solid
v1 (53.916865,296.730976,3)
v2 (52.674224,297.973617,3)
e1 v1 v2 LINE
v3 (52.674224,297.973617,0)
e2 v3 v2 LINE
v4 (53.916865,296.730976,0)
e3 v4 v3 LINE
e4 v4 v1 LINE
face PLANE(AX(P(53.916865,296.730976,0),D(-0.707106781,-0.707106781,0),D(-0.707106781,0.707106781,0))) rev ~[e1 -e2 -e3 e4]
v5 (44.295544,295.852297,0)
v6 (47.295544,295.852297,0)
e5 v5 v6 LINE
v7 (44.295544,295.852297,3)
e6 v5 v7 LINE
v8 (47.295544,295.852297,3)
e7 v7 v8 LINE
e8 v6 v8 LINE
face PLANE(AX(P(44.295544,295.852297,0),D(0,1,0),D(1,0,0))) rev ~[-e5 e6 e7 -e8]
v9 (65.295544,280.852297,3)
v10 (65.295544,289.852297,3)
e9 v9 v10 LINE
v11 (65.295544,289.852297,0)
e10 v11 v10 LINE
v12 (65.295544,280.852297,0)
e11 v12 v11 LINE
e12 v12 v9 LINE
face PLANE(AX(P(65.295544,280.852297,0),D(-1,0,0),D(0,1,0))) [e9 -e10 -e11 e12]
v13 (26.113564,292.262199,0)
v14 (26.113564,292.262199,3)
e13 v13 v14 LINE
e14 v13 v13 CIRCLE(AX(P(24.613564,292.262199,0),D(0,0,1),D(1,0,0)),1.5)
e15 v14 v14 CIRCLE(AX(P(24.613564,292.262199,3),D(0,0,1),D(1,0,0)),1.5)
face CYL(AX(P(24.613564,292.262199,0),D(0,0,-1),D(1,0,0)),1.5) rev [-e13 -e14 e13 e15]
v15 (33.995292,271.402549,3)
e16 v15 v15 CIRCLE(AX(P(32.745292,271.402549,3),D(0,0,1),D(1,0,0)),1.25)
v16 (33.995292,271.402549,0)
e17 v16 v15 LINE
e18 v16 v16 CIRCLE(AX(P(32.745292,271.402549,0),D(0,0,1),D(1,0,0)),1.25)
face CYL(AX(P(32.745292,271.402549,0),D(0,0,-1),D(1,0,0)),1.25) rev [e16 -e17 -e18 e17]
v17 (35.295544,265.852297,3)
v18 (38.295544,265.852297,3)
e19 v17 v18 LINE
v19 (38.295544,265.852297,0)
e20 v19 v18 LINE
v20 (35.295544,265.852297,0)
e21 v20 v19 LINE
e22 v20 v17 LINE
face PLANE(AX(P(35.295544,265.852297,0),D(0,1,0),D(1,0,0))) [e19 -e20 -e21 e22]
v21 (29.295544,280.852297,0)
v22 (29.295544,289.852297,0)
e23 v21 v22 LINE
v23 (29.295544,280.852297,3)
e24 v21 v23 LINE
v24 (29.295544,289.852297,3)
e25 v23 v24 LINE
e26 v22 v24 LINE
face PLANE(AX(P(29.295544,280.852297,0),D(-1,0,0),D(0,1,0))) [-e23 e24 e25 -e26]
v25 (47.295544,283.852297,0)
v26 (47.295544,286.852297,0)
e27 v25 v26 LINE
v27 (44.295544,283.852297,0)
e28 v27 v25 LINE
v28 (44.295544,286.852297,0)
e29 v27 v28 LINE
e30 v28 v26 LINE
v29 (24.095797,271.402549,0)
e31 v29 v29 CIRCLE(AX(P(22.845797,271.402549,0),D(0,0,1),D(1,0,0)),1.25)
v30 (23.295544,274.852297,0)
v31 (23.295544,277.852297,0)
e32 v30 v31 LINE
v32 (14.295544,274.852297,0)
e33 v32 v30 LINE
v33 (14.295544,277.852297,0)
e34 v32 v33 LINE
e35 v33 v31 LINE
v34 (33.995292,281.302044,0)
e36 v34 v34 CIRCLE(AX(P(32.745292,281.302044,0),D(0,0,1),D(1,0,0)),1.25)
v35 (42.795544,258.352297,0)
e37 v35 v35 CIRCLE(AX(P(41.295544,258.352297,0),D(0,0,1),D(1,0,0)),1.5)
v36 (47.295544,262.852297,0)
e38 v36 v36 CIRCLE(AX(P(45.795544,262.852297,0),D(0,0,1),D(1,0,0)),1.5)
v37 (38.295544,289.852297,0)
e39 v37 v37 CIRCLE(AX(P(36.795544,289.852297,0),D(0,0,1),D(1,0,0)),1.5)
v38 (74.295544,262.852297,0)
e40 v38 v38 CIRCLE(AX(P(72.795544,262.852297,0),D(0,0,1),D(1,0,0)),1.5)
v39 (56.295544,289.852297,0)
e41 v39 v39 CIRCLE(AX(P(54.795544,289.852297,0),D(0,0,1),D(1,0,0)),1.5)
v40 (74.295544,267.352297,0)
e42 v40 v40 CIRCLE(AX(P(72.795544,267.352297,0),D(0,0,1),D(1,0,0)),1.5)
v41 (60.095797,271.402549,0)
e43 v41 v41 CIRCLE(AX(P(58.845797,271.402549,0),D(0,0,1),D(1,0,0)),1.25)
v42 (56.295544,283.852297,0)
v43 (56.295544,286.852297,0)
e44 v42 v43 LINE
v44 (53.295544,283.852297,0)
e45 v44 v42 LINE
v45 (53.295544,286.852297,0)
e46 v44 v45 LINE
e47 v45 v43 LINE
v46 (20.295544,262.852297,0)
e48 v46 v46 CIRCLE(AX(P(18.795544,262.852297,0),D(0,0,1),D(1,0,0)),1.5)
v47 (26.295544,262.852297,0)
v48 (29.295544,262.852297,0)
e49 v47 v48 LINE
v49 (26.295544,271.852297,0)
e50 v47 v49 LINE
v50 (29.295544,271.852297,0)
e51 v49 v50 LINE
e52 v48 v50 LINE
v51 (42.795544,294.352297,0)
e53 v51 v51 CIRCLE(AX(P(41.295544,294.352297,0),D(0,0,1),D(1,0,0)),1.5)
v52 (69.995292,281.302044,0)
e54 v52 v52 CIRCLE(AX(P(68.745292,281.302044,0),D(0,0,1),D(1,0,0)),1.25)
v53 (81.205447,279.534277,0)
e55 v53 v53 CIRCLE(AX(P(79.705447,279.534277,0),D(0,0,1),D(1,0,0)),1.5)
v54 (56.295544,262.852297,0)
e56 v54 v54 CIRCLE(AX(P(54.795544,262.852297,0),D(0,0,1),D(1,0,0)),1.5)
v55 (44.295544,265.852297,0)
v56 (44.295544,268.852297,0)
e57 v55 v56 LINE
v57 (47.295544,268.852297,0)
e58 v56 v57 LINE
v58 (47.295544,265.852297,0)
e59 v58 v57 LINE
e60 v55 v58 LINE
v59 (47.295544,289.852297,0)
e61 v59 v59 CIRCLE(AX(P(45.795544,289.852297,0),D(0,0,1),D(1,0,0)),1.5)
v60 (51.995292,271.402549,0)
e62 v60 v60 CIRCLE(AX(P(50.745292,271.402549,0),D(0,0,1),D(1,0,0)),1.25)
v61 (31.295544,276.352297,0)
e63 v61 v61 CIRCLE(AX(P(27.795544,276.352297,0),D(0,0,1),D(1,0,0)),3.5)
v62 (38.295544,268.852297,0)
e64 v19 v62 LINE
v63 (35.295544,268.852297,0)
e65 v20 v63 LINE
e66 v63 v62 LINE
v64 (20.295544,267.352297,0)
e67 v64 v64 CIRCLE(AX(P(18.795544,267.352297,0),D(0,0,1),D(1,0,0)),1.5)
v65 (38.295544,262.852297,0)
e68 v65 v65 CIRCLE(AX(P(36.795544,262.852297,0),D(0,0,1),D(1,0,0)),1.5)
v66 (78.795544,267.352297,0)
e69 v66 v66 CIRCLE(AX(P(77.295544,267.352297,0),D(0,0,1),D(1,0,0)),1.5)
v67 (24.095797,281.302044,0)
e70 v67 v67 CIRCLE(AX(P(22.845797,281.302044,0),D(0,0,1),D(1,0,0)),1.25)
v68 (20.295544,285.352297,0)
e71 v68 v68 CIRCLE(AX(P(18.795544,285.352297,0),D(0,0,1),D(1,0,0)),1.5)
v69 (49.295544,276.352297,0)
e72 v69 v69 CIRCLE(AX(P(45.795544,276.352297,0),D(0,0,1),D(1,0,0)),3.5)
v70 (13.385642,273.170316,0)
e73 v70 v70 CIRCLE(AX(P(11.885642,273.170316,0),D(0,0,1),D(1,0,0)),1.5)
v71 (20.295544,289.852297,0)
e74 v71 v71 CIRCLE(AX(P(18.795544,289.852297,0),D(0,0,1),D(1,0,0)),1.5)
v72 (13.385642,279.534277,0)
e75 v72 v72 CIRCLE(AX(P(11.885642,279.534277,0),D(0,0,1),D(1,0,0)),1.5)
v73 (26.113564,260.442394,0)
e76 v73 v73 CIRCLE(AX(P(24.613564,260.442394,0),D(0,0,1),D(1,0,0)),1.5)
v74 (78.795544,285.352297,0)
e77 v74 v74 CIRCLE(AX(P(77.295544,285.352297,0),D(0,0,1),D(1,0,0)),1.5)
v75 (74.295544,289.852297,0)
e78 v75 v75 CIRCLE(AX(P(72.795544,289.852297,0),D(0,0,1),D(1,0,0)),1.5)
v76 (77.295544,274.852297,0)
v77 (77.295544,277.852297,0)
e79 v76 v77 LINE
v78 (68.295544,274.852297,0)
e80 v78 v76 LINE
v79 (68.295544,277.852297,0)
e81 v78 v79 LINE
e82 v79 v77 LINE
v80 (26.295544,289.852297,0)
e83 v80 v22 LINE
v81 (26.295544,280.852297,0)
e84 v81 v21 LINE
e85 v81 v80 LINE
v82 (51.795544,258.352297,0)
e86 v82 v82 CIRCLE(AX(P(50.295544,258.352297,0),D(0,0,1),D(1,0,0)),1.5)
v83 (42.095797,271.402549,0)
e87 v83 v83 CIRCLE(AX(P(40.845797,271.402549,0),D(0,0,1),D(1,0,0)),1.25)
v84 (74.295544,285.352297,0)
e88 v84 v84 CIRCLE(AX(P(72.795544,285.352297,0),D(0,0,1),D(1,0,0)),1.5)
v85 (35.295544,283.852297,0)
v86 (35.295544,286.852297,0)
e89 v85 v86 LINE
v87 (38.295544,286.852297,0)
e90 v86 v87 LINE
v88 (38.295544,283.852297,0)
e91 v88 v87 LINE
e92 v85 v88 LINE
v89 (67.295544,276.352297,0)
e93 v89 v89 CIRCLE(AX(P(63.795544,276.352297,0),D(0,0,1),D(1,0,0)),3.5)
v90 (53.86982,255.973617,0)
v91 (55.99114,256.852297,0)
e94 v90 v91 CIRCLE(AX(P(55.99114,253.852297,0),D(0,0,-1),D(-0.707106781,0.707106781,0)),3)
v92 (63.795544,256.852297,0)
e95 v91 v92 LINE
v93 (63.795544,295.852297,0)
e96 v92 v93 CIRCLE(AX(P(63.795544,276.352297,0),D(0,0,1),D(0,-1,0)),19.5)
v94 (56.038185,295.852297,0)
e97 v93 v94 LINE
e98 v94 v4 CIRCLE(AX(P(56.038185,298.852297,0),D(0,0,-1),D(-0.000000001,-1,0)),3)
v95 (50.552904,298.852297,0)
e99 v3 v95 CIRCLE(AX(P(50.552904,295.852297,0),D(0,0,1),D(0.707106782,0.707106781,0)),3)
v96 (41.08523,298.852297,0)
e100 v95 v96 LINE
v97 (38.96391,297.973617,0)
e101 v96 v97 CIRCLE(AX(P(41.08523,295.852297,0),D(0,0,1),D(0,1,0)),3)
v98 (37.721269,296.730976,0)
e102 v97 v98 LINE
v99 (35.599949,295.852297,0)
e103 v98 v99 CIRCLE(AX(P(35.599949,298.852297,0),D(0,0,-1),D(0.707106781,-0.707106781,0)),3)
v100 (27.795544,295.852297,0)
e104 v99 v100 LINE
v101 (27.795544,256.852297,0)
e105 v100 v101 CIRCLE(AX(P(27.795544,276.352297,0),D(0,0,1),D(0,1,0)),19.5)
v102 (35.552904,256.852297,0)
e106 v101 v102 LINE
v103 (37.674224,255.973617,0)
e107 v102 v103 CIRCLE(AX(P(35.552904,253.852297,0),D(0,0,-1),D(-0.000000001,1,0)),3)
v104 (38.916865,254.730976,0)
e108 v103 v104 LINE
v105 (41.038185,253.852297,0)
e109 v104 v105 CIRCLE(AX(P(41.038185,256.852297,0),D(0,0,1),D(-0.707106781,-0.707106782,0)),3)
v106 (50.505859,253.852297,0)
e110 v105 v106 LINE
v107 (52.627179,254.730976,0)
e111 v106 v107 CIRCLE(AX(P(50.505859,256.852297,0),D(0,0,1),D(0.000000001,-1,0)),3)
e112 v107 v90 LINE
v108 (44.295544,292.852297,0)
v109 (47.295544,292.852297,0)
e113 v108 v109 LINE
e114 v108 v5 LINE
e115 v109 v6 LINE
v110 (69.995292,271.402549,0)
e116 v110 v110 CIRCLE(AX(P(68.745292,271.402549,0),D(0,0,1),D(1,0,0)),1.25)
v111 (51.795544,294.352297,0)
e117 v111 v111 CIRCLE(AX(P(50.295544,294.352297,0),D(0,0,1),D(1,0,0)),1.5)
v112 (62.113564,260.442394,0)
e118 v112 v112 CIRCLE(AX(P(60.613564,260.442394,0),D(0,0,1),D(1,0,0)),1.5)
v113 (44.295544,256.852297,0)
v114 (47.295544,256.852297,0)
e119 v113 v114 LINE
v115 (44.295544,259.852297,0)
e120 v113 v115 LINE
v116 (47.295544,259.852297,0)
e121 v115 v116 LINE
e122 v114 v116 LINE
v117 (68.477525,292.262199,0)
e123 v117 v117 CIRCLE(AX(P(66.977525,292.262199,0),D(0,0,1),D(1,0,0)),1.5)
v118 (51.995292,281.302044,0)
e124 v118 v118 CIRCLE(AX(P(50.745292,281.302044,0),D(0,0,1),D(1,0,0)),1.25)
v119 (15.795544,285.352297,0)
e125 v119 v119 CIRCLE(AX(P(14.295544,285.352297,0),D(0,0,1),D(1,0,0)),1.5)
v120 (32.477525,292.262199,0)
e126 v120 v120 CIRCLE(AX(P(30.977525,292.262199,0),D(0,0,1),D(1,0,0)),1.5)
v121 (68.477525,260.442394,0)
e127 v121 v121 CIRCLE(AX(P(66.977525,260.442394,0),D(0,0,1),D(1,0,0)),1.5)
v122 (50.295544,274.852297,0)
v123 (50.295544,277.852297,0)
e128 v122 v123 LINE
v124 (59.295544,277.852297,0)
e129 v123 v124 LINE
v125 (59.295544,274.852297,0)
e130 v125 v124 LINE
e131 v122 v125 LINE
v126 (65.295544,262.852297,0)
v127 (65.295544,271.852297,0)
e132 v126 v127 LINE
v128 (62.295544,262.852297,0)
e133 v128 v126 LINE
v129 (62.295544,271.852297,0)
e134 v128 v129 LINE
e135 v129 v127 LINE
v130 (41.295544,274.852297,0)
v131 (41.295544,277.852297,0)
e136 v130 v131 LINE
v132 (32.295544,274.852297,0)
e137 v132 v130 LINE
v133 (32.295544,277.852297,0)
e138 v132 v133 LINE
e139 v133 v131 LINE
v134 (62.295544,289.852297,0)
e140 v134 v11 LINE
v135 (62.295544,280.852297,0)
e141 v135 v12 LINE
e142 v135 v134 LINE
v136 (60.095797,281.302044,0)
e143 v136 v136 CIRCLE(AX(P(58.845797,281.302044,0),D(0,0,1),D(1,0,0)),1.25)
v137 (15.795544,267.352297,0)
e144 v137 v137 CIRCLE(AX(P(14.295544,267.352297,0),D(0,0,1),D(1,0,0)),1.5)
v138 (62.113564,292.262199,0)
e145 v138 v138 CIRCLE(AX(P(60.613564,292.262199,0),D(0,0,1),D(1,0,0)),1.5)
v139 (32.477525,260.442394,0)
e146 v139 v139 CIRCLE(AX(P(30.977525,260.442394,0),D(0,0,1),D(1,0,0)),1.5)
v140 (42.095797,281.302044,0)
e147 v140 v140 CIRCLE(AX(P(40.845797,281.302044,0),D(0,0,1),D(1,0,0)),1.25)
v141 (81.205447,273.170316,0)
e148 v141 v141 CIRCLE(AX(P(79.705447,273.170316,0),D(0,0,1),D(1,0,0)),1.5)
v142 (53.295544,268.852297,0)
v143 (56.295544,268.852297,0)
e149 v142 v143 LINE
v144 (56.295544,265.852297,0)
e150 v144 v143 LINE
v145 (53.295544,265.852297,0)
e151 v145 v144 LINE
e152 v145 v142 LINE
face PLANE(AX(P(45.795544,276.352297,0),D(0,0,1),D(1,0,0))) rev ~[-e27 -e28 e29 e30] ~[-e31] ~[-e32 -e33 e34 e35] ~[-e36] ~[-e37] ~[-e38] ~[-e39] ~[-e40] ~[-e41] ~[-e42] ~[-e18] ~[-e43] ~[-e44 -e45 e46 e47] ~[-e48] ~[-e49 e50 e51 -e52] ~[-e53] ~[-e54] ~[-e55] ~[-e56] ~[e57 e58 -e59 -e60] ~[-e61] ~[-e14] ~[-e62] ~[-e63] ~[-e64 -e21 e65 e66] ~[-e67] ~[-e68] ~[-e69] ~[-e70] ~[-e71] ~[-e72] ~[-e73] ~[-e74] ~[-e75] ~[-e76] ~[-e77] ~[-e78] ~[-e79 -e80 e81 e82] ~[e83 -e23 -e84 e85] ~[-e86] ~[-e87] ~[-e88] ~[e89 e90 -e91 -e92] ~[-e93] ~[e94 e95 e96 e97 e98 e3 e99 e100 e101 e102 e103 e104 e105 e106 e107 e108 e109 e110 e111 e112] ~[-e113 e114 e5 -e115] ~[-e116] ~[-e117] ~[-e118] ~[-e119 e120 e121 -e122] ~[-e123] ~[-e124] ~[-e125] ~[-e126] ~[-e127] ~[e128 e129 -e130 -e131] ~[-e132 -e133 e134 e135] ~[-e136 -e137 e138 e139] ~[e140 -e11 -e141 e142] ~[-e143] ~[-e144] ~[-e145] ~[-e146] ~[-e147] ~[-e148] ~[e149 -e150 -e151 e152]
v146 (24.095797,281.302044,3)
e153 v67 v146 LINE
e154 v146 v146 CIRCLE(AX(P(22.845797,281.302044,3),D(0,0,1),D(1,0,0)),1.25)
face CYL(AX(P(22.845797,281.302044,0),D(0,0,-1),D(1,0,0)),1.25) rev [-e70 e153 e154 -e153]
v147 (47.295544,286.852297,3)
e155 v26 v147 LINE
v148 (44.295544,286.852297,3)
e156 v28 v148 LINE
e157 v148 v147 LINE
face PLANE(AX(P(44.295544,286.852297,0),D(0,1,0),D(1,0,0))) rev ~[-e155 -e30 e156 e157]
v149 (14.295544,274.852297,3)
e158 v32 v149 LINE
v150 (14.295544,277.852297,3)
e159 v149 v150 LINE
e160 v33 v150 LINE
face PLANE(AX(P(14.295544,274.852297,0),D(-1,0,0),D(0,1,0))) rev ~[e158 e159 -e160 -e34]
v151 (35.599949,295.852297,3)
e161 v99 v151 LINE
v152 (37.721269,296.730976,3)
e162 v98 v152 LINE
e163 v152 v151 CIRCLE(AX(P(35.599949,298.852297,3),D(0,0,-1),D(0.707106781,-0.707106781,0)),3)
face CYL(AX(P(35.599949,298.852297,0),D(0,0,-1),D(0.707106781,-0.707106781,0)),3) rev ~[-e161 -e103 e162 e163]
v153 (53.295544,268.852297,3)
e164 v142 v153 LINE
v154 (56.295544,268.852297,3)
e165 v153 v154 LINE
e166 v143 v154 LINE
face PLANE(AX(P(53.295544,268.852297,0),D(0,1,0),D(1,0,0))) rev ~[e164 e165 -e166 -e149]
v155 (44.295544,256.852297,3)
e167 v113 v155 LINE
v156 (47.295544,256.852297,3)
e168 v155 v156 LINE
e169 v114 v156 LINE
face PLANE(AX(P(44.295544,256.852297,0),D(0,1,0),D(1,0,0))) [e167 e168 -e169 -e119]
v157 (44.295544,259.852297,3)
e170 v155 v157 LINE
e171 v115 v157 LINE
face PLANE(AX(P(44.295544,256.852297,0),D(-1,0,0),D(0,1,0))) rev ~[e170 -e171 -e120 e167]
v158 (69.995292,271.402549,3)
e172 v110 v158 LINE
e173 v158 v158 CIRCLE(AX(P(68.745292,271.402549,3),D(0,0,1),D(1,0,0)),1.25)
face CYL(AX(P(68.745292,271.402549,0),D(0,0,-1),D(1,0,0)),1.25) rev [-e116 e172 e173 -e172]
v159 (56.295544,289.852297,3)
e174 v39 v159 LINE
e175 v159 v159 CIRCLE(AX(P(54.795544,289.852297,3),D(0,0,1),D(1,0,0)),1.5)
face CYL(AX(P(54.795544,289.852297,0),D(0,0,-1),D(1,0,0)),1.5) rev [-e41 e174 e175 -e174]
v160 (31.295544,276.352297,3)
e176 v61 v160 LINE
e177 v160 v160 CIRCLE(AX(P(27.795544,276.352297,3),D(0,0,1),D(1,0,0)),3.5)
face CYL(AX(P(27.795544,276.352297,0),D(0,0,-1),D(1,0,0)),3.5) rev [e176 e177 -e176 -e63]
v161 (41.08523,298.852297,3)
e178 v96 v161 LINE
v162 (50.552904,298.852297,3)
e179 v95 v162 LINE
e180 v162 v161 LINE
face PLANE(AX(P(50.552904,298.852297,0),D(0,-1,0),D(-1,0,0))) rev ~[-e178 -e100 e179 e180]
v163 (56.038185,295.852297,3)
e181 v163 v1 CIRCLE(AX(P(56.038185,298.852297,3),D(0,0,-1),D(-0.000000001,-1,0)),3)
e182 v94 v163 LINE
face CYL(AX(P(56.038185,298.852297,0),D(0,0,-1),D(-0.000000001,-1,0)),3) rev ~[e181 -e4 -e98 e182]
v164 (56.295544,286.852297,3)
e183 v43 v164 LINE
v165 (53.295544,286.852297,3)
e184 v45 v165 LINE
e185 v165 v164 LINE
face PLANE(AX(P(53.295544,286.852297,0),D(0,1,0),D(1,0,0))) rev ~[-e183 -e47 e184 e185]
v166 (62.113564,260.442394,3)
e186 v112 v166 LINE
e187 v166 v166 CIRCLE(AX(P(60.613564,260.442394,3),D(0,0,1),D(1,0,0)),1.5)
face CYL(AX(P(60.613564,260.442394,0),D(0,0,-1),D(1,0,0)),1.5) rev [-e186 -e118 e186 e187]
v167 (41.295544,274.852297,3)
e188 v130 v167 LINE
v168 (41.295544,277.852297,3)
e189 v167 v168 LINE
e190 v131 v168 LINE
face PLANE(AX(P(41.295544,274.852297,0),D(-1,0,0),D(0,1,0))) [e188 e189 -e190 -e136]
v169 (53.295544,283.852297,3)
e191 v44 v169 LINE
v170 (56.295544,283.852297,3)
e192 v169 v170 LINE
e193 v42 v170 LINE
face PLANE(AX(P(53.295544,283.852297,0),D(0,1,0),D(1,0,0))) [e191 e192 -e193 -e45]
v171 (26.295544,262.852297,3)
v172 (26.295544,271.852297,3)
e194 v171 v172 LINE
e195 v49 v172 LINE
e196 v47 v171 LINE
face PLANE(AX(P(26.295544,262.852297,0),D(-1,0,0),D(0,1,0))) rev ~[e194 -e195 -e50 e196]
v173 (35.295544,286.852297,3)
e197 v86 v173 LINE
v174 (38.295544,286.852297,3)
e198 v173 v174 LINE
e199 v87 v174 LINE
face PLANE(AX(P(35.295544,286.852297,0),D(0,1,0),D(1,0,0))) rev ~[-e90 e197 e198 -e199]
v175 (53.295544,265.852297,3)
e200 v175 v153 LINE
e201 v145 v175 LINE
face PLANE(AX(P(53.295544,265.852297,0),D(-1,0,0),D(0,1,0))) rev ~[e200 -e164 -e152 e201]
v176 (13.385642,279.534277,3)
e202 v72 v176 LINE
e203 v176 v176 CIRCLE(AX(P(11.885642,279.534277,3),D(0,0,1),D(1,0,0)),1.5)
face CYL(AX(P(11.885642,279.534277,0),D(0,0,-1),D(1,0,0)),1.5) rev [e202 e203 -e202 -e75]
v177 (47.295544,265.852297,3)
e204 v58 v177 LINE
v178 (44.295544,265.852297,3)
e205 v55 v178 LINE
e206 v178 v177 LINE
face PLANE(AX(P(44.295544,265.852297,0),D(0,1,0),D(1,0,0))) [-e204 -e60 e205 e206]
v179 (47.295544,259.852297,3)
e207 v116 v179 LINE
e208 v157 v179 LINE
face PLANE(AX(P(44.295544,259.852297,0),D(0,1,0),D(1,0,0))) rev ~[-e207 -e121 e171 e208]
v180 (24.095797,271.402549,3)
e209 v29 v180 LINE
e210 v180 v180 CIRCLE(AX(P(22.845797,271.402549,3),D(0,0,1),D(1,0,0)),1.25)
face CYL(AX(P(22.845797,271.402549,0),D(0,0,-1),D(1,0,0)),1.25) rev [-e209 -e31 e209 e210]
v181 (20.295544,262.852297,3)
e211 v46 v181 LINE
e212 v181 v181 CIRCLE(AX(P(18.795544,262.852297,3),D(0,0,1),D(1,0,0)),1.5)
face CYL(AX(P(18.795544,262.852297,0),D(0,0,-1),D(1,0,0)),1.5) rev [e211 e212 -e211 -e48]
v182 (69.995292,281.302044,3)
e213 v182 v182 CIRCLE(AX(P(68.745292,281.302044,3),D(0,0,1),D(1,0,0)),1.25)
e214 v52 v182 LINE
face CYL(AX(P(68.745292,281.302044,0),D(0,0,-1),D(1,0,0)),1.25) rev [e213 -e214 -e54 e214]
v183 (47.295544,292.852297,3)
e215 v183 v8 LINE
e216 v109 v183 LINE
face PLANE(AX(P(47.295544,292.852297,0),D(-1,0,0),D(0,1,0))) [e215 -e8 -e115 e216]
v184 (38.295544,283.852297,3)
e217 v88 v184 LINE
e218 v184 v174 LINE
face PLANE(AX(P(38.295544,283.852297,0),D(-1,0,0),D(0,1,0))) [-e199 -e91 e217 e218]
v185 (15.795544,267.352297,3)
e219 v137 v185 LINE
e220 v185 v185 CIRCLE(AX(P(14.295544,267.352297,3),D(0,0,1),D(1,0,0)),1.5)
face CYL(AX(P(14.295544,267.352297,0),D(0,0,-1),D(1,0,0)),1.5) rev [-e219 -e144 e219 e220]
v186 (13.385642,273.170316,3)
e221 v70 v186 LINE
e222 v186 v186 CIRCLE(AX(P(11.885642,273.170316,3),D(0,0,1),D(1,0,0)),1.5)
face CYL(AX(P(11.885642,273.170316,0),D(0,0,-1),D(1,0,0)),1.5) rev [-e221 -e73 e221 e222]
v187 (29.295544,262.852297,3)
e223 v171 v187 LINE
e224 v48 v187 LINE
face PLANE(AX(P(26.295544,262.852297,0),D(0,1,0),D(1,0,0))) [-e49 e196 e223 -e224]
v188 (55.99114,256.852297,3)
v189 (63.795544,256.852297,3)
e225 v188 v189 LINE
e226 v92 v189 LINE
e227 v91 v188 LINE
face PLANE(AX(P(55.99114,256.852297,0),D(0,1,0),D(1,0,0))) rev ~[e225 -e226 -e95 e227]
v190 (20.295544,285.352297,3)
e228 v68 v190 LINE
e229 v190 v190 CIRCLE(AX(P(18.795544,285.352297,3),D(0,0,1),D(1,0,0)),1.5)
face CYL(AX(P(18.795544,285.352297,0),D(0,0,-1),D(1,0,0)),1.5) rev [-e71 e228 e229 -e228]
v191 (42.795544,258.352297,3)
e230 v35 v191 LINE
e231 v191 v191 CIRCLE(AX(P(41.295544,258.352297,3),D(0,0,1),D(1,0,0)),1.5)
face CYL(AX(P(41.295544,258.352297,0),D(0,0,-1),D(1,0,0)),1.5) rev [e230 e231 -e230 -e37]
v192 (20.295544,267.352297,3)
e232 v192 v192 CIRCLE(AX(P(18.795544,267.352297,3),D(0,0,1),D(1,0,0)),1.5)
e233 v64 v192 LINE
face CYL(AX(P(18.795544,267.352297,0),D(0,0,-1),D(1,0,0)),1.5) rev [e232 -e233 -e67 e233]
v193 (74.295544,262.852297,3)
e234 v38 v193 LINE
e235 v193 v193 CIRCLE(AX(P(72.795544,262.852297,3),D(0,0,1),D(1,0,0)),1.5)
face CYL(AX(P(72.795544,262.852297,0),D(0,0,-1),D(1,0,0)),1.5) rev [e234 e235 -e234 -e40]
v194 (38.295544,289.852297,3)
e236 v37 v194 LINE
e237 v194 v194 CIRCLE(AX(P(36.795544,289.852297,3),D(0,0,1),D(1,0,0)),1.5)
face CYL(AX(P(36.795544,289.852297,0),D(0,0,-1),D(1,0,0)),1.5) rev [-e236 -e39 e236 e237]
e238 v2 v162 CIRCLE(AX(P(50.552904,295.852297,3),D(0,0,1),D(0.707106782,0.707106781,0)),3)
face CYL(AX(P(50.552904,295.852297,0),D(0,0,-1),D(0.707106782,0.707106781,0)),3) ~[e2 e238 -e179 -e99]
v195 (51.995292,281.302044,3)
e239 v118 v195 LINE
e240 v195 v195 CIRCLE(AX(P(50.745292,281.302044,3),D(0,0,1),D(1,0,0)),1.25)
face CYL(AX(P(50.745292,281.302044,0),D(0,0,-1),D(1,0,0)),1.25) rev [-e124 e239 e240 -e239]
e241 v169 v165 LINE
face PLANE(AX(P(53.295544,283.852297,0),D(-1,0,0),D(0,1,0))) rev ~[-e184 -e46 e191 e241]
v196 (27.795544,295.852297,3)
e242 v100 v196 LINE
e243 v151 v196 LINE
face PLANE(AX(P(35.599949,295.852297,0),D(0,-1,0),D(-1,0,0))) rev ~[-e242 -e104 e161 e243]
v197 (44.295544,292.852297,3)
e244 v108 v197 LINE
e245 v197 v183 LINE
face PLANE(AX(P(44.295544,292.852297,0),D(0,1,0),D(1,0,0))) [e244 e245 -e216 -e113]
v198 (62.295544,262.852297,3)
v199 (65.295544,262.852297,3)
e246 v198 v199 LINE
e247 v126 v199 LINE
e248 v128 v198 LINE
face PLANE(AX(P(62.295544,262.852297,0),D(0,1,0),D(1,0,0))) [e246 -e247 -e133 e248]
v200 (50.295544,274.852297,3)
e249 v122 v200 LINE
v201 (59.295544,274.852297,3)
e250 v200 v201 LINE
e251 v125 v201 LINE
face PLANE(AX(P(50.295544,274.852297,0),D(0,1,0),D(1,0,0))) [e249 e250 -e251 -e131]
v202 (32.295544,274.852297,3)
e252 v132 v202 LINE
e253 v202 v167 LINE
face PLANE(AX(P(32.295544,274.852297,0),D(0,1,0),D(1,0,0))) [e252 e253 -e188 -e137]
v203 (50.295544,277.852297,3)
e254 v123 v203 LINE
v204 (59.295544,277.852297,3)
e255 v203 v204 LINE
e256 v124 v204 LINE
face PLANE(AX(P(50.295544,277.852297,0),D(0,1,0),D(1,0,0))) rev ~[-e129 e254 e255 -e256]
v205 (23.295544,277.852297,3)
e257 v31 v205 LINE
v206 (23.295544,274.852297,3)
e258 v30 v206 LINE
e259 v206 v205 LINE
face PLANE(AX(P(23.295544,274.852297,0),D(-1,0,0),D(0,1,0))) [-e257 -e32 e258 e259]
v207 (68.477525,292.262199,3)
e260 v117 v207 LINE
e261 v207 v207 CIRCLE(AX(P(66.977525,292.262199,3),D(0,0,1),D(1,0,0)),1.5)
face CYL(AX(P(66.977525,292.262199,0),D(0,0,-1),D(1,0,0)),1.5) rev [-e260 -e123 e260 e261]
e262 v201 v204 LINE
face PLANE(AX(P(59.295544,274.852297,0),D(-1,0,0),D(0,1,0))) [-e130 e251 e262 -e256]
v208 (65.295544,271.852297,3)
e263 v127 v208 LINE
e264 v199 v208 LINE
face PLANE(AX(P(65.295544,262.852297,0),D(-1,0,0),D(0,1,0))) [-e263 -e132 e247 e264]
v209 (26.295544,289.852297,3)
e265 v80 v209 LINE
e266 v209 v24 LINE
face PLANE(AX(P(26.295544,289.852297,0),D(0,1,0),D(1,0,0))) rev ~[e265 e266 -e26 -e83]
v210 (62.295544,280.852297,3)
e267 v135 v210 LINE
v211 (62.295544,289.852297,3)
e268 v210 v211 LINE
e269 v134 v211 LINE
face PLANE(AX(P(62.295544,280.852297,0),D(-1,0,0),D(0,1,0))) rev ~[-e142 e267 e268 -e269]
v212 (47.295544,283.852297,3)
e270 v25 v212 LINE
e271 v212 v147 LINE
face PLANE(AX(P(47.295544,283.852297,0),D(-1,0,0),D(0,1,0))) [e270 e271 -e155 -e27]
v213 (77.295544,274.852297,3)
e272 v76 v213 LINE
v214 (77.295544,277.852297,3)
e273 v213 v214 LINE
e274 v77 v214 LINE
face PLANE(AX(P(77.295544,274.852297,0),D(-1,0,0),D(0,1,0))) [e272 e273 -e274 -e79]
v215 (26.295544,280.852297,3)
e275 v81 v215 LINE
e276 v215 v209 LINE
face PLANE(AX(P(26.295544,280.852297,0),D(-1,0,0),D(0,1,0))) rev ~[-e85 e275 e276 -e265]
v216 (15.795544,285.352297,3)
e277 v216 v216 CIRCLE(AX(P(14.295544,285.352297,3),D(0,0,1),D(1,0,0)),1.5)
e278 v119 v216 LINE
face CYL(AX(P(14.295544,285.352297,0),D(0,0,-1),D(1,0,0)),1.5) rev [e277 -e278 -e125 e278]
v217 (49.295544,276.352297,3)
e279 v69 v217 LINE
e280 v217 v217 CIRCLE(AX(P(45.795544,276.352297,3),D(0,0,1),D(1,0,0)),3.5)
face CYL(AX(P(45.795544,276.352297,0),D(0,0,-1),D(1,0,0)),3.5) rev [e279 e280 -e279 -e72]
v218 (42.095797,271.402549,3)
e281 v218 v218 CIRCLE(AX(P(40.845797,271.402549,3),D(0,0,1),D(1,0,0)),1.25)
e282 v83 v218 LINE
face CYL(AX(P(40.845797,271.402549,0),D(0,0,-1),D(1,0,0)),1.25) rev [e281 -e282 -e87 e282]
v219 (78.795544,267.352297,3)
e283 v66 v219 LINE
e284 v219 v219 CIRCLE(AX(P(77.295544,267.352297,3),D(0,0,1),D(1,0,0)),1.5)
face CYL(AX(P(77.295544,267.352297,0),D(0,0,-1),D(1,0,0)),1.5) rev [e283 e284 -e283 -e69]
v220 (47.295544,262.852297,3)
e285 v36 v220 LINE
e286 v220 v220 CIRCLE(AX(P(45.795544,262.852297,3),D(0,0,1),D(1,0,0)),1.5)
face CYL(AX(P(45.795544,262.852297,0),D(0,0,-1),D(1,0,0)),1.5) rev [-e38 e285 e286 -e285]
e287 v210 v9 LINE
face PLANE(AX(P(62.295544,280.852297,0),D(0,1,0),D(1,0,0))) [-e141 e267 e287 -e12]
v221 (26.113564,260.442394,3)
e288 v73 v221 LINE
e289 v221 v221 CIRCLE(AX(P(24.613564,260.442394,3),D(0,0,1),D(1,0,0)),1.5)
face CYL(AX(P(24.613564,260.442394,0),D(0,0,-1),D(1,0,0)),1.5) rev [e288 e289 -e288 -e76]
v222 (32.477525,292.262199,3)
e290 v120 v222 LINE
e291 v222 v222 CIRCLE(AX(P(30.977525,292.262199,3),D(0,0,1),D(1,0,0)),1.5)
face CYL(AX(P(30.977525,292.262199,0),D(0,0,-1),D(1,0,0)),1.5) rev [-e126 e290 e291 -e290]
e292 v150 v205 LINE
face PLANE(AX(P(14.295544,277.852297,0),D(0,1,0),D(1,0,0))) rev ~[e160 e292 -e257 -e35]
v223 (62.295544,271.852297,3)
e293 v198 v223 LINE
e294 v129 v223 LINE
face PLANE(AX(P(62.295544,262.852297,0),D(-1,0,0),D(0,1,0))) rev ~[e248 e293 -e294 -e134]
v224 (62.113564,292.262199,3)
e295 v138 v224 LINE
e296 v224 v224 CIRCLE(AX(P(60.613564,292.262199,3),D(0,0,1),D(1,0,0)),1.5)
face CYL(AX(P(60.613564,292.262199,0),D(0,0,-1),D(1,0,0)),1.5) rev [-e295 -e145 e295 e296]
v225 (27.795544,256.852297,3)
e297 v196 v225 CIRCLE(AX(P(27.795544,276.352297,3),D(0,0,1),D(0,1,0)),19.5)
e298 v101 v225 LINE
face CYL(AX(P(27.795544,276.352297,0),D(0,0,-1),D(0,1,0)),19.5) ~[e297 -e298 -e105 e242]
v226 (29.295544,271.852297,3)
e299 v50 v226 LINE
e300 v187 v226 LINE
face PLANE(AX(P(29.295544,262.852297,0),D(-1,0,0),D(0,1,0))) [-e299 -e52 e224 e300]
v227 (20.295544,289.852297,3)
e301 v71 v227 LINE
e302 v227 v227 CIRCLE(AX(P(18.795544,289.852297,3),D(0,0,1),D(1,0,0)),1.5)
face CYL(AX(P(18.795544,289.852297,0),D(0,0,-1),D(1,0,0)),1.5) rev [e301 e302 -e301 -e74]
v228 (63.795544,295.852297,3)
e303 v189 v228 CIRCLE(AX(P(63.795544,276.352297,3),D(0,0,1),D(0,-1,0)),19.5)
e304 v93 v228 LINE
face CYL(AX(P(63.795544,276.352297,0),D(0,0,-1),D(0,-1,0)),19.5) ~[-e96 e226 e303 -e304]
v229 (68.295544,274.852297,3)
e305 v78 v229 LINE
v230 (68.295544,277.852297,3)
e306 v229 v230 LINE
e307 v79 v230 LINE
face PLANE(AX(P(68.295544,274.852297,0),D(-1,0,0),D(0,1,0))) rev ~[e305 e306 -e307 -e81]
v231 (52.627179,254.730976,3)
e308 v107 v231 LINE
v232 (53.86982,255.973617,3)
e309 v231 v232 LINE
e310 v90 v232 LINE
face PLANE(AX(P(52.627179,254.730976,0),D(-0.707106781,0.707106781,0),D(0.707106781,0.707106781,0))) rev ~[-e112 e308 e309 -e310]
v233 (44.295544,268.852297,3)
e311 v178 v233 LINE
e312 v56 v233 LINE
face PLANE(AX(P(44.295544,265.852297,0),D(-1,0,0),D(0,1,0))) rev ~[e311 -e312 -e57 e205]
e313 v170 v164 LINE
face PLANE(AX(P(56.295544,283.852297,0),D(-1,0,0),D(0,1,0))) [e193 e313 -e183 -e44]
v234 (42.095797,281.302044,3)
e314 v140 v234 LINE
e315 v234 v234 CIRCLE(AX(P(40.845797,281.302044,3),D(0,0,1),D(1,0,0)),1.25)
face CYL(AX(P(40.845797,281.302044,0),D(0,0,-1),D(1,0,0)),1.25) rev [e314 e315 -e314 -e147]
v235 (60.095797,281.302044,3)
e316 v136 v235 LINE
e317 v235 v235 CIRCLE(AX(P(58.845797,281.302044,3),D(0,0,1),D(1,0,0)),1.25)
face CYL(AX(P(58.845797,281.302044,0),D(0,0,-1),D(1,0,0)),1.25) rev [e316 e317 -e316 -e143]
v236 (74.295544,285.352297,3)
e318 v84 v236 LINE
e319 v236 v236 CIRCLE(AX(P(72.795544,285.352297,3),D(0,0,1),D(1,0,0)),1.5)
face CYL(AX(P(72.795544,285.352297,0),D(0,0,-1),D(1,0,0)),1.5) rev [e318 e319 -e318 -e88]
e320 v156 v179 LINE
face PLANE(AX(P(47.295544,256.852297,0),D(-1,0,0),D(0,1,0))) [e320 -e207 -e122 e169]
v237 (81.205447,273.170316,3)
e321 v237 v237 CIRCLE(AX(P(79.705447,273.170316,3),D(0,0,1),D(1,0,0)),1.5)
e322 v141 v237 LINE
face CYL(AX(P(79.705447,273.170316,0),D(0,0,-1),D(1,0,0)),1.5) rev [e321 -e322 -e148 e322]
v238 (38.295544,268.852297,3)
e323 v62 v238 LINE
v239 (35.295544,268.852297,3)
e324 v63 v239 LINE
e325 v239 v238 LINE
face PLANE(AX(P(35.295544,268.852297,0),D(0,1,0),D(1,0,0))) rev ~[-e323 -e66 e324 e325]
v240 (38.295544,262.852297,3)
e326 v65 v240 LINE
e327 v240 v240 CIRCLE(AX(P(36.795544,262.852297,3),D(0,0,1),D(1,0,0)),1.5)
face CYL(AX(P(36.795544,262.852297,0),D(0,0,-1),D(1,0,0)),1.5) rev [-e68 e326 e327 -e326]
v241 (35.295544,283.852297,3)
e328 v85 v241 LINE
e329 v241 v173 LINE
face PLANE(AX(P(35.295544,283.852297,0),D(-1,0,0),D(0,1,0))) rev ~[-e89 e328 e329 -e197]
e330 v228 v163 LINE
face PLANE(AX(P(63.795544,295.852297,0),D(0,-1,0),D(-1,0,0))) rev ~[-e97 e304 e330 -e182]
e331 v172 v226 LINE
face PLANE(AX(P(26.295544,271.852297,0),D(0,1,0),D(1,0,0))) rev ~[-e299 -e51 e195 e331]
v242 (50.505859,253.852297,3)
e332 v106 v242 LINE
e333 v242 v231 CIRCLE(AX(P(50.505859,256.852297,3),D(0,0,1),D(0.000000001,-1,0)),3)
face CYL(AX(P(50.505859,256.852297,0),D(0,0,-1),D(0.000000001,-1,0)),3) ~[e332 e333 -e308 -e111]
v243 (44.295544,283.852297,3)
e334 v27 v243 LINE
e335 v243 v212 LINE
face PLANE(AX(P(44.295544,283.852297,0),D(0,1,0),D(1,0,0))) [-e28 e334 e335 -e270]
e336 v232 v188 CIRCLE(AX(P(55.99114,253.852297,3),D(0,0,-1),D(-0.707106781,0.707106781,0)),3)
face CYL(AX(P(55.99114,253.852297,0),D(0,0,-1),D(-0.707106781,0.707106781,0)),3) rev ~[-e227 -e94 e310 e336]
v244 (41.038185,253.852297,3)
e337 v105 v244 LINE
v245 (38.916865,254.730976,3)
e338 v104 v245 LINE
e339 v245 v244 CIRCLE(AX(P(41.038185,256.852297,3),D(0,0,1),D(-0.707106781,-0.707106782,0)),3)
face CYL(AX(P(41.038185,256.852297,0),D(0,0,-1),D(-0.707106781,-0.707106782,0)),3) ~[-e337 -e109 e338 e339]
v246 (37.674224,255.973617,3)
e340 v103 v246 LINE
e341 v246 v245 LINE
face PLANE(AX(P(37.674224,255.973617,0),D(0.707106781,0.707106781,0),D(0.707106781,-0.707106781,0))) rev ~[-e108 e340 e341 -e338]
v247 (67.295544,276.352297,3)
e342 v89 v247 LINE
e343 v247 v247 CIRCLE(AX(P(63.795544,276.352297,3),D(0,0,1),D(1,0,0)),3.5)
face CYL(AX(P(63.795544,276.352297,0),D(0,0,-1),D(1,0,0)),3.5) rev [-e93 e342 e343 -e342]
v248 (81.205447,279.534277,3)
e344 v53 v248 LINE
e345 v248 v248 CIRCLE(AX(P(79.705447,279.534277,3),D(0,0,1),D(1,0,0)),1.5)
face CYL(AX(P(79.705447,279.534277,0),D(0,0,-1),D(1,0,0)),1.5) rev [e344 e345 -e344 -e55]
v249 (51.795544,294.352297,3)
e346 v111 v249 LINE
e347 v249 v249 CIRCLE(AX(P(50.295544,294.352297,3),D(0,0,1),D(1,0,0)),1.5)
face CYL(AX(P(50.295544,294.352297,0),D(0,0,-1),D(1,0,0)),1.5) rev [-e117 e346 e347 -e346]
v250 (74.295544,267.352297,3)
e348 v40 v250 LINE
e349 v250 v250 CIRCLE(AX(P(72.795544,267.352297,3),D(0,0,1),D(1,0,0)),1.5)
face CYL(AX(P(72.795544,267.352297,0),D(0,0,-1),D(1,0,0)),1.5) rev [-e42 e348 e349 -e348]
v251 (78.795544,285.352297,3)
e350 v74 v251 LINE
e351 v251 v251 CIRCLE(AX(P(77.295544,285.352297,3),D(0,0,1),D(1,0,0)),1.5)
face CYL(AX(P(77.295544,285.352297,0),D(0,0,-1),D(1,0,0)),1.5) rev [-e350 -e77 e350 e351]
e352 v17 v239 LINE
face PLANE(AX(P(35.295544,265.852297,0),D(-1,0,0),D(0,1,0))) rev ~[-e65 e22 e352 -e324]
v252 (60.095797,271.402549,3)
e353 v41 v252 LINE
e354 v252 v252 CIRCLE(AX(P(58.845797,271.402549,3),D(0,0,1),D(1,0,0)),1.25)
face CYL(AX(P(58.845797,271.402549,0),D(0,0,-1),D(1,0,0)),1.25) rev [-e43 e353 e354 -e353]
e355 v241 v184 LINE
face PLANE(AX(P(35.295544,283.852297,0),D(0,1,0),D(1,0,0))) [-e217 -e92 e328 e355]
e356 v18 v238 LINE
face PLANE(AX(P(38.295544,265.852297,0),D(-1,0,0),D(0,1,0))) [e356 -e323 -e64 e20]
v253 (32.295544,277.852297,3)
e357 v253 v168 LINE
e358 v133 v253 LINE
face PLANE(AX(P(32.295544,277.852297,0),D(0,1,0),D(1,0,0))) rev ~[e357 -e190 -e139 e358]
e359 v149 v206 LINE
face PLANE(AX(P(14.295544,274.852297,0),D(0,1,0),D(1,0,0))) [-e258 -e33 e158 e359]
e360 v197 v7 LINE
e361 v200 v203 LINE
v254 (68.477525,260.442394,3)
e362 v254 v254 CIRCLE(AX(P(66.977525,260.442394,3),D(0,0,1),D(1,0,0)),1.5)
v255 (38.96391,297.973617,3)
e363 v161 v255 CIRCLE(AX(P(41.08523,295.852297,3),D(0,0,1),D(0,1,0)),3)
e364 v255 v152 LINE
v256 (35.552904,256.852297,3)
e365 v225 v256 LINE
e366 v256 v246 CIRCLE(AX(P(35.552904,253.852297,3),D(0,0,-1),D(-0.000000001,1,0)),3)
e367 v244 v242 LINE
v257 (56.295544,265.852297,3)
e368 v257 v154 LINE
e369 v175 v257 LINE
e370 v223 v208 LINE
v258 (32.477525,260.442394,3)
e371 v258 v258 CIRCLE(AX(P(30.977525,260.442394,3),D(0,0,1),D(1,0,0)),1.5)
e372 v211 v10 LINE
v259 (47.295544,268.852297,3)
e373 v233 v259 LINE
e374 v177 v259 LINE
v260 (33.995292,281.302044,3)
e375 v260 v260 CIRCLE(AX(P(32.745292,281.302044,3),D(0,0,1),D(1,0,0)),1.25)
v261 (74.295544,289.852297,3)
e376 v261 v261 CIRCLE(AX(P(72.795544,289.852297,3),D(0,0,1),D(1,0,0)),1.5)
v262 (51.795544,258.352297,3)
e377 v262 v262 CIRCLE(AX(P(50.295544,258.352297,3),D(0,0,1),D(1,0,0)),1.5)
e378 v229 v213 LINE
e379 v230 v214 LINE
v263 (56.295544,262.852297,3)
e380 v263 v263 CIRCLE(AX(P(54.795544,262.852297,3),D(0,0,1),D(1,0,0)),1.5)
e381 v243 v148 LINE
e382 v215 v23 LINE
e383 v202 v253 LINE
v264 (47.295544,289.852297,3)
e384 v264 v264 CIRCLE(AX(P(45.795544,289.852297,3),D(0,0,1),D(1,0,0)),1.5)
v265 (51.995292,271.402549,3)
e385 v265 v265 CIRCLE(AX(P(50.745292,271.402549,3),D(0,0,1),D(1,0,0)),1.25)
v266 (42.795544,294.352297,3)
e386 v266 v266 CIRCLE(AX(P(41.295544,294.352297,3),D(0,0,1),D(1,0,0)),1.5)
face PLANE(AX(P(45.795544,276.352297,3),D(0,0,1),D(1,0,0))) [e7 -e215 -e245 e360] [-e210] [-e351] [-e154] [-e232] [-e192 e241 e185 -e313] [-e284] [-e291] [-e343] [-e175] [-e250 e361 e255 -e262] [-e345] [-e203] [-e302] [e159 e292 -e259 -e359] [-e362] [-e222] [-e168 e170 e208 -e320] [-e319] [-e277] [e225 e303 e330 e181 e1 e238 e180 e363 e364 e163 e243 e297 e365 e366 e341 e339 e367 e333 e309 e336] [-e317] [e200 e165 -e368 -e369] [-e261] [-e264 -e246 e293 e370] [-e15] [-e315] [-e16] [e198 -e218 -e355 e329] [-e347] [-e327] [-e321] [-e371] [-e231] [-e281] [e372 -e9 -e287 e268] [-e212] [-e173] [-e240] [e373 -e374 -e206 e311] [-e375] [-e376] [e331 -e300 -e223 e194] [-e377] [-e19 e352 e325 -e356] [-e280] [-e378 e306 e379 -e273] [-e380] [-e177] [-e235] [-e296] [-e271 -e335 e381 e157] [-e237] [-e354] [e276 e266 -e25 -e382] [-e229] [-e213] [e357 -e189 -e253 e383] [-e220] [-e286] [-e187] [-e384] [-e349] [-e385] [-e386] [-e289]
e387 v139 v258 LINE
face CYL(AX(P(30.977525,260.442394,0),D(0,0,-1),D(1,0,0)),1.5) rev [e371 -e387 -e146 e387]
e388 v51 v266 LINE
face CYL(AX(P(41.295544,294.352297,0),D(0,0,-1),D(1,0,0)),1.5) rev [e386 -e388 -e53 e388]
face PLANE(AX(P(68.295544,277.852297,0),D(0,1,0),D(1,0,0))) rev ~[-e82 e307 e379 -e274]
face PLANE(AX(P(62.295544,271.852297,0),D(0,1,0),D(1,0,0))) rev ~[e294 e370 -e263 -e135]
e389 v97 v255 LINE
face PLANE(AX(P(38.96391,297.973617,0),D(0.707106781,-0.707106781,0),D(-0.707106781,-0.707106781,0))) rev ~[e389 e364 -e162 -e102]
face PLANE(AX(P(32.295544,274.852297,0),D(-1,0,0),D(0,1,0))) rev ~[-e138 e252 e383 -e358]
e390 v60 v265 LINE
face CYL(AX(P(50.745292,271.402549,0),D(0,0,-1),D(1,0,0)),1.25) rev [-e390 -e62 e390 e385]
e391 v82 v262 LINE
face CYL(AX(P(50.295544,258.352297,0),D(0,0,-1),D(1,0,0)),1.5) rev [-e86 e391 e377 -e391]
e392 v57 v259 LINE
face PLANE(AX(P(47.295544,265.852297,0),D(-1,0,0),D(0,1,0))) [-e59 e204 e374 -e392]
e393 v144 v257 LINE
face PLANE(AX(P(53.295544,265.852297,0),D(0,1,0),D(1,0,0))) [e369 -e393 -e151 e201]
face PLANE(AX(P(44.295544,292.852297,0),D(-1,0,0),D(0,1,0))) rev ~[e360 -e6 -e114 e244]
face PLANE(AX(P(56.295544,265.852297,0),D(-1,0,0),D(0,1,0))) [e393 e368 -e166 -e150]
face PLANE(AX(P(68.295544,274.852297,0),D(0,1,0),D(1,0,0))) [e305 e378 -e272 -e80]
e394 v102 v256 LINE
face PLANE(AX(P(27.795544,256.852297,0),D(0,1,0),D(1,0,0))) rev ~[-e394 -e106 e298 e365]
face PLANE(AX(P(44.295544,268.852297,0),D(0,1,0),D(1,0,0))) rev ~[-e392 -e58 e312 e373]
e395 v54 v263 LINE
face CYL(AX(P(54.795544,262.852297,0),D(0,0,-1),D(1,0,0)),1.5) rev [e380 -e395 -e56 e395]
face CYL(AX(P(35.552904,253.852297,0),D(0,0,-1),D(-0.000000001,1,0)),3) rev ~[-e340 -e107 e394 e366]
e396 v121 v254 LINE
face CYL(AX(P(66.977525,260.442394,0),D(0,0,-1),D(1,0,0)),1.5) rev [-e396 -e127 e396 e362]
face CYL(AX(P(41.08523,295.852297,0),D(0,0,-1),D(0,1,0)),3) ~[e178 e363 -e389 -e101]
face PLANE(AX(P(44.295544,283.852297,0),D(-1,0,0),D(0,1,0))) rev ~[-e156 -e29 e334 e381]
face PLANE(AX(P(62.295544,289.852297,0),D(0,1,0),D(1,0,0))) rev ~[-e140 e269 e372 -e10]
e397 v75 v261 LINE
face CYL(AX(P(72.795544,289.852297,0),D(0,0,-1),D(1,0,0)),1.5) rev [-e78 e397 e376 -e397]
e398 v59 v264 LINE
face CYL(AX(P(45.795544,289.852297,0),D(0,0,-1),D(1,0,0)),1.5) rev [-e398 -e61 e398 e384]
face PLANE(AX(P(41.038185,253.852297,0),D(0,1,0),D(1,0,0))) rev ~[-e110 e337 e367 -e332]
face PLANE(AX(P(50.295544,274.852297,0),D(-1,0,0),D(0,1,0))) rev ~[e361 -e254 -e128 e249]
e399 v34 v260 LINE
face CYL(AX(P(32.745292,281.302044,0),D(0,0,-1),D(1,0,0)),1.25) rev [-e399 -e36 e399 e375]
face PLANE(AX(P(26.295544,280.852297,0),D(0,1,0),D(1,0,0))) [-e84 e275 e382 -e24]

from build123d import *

# Parameters (mm, degrees)
MODEL_R                 = 1.25
MODEL_R_2               = 3.5
MODEL_R_3               = 1.5
MODEL_W                 = 9
MODEL_H                 = 3
MODEL_W_2               = 3
MODEL_H_2               = 9
SALIENTE_EXTRUIR1_DEPTH = 3


with BuildPart() as part:
    # Model → Saliente-Extruir1 (new body)
    with BuildSketch(Plane.XY):
        with BuildLine():
            Line((63.795544402, 295.852296768), (56.038185089, 295.852296768))
            ThreePointArc((56.038185089, 295.852296768), (54.890134792, 296.080658171), (53.916864745, 296.730976425))
            Line((53.916864745, 296.730976425), (52.674224058, 297.973617112))
            ThreePointArc((52.674224058, 297.973617112), (51.700954012, 298.623935366), (50.552903715, 298.852296768))
            Line((50.552903715, 298.852296768), (41.085229894, 298.852296768))
            ThreePointArc((41.085229894, 298.852296768), (39.937179597, 298.623935366), (38.96390955, 297.973617112))
            Line((38.96390955, 297.973617112), (37.721268863, 296.730976425))
            ThreePointArc((37.721268863, 296.730976425), (36.747998817, 296.080658171), (35.59994852, 295.852296768))
            Line((35.59994852, 295.852296768), (27.795544402, 295.852296768))
            ThreePointArc((27.795544402, 295.852296768), (8.295544402, 276.352296768), (27.795544402, 256.852296768))
            Line((27.795544402, 256.852296768), (35.552903715, 256.852296768))
            ThreePointArc((35.552903715, 256.852296768), (36.700954012, 256.623935366), (37.674224058, 255.973617112))
            Line((37.674224058, 255.973617112), (38.916864745, 254.730976425))
            ThreePointArc((38.916864745, 254.730976425), (39.890134792, 254.080658171), (41.038185089, 253.852296768))
            Line((41.038185089, 253.852296768), (50.50585891, 253.852296768))
            ThreePointArc((50.50585891, 253.852296768), (51.653909207, 254.080658171), (52.627179253, 254.730976425))
            Line((52.627179253, 254.730976425), (53.86981994, 255.973617112))
            ThreePointArc((53.86981994, 255.973617112), (54.843089987, 256.623935366), (55.991140284, 256.852296768))
            Line((55.991140284, 256.852296768), (63.795544402, 256.852296768))
            ThreePointArc((63.795544402, 256.852296768), (83.295544402, 276.352296768), (63.795544402, 295.852296768))
        make_face()
        with Locations((22.845796934, 281.302044237)):
            Circle(MODEL_R, mode=Mode.SUBTRACT)
        with Locations((22.845796934, 271.4025493)):
            Circle(MODEL_R, mode=Mode.SUBTRACT)
        with Locations((32.74529187, 271.4025493)):
            Circle(MODEL_R, mode=Mode.SUBTRACT)
        with Locations((32.74529187, 281.302044237)):
            Circle(MODEL_R, mode=Mode.SUBTRACT)
        with Locations((27.795544402, 276.352296768)):
            Circle(MODEL_R_2, mode=Mode.SUBTRACT)
        with Locations((18.795544402, 289.852296768)):
            Circle(MODEL_R_3, mode=Mode.SUBTRACT)
        with Locations((18.795544402, 262.852296768)):
            Circle(MODEL_R_3, mode=Mode.SUBTRACT)
        with Locations((36.795544402, 289.852296768)):
            Circle(MODEL_R_3, mode=Mode.SUBTRACT)
        with Locations((36.795544402, 262.852296768)):
            Circle(MODEL_R_3, mode=Mode.SUBTRACT)
        with Locations((14.295544402, 267.352296768)):
            Circle(MODEL_R_3, mode=Mode.SUBTRACT)
        with Locations((14.295544402, 285.352296768)):
            Circle(MODEL_R_3, mode=Mode.SUBTRACT)
        with Locations((30.977524917, 292.262199345)):
            Circle(MODEL_R_3, mode=Mode.SUBTRACT)
        with Locations((24.613563886, 260.442394192)):
            Circle(MODEL_R_3, mode=Mode.SUBTRACT)
        with Locations((30.977524917, 260.442394192)):
            Circle(MODEL_R_3, mode=Mode.SUBTRACT)
        with Locations((24.613563886, 292.262199345)):
            Circle(MODEL_R_3, mode=Mode.SUBTRACT)
        with Locations((11.885641825, 279.534277284)):
            Circle(MODEL_R_3, mode=Mode.SUBTRACT)
        with Locations((11.885641825, 273.170316253)):
            Circle(MODEL_R_3, mode=Mode.SUBTRACT)
        with Locations((58.845796933, 281.302044237)):
            Circle(MODEL_R, mode=Mode.SUBTRACT)
        with Locations((58.845796933, 271.4025493)):
            Circle(MODEL_R, mode=Mode.SUBTRACT)
        with Locations((68.74529187, 271.4025493)):
            Circle(MODEL_R, mode=Mode.SUBTRACT)
        with Locations((68.74529187, 281.302044237)):
            Circle(MODEL_R, mode=Mode.SUBTRACT)
        with Locations((54.795544402, 289.852296768)):
            Circle(MODEL_R_3, mode=Mode.SUBTRACT)
        with Locations((54.795544402, 262.852296768)):
            Circle(MODEL_R_3, mode=Mode.SUBTRACT)
        with Locations((72.795544402, 289.852296768)):
            Circle(MODEL_R_3, mode=Mode.SUBTRACT)
        with Locations((72.795544402, 262.852296768)):
            Circle(MODEL_R_3, mode=Mode.SUBTRACT)
        with Locations((77.295544402, 267.352296768)):
            Circle(MODEL_R_3, mode=Mode.SUBTRACT)
        with Locations((77.295544402, 285.352296768)):
            Circle(MODEL_R_3, mode=Mode.SUBTRACT)
        with Locations((66.977524917, 292.262199345)):
            Circle(MODEL_R_3, mode=Mode.SUBTRACT)
        with Locations((60.613563886, 260.442394192)):
            Circle(MODEL_R_3, mode=Mode.SUBTRACT)
        with Locations((66.977524917, 260.442394192)):
            Circle(MODEL_R_3, mode=Mode.SUBTRACT)
        with Locations((60.613563886, 292.262199345)):
            Circle(MODEL_R_3, mode=Mode.SUBTRACT)
        with Locations((79.705446979, 273.170316253)):
            Circle(MODEL_R_3, mode=Mode.SUBTRACT)
        with Locations((79.705446979, 279.534277284)):
            Circle(MODEL_R_3, mode=Mode.SUBTRACT)
        with Locations((63.795544402, 276.352296768)):
            Circle(MODEL_R_2, mode=Mode.SUBTRACT)
        with Locations((18.795544402, 285.352296768)):
            Circle(MODEL_R_3, mode=Mode.SUBTRACT)
        with Locations((18.795544402, 267.352296768)):
            Circle(MODEL_R_3, mode=Mode.SUBTRACT)
        with Locations((72.795544402, 285.352296768)):
            Circle(MODEL_R_3, mode=Mode.SUBTRACT)
        with Locations((72.795544402, 267.352296768)):
            Circle(MODEL_R_3, mode=Mode.SUBTRACT)
        with Locations((40.845796933, 281.302044237)):
            Circle(MODEL_R, mode=Mode.SUBTRACT)
        with Locations((40.845796933, 271.4025493)):
            Circle(MODEL_R, mode=Mode.SUBTRACT)
        with Locations((50.74529187, 271.4025493)):
            Circle(MODEL_R, mode=Mode.SUBTRACT)
        with Locations((50.74529187, 281.302044237)):
            Circle(MODEL_R, mode=Mode.SUBTRACT)
        with Locations((45.795544402, 276.352296768)):
            Circle(MODEL_R_2, mode=Mode.SUBTRACT)
        with Locations((41.295544402, 294.352296768)):
            Circle(MODEL_R_3, mode=Mode.SUBTRACT)
        with Locations((50.295544402, 294.352296768)):
            Circle(MODEL_R_3, mode=Mode.SUBTRACT)
        with Locations((45.795544402, 289.852296768)):
            Circle(MODEL_R_3, mode=Mode.SUBTRACT)
        with Locations((41.295544402, 258.352296768)):
            Circle(MODEL_R_3, mode=Mode.SUBTRACT)
        with Locations((50.295544402, 258.352296768)):
            Circle(MODEL_R_3, mode=Mode.SUBTRACT)
        with Locations((45.795544402, 262.852296768)):
            Circle(MODEL_R_3, mode=Mode.SUBTRACT)
        with Locations((36.795544402, 276.352296768)):
            Rectangle(MODEL_W, MODEL_H, mode=Mode.SUBTRACT)
        with Locations((27.795544402, 285.352296768)):
            Rectangle(MODEL_W_2, MODEL_H_2, mode=Mode.SUBTRACT)
        with Locations((18.795544402, 276.352296768)):
            Rectangle(MODEL_W, MODEL_H, mode=Mode.SUBTRACT)
        with Locations((27.795544402, 267.352296768)):
            Rectangle(MODEL_W_2, MODEL_H_2, mode=Mode.SUBTRACT)
        with Locations((72.795544402, 276.352296768)):
            Rectangle(MODEL_W, MODEL_H, mode=Mode.SUBTRACT)
        with Locations((63.795544402, 285.352296768)):
            Rectangle(MODEL_W_2, MODEL_H_2, mode=Mode.SUBTRACT)
        with Locations((54.795544402, 276.352296768)):
            Rectangle(MODEL_W, MODEL_H, mode=Mode.SUBTRACT)
        with Locations((63.795544402, 267.352296768)):
            Rectangle(MODEL_W_2, MODEL_H_2, mode=Mode.SUBTRACT)
        with Locations((36.795544402, 285.352296768)):
            Rectangle(MODEL_W_2, MODEL_H, mode=Mode.SUBTRACT)
        with Locations((45.795544402, 285.352296768)):
            Rectangle(MODEL_W_2, MODEL_H, mode=Mode.SUBTRACT)
        with Locations((54.795544402, 285.352296768)):
            Rectangle(MODEL_W_2, MODEL_H, mode=Mode.SUBTRACT)
        with Locations((36.795544402, 267.352296768)):
            Rectangle(MODEL_W_2, MODEL_H, mode=Mode.SUBTRACT)
        with Locations((45.795544402, 267.352296768)):
            Rectangle(MODEL_W_2, MODEL_H, mode=Mode.SUBTRACT)
        with Locations((54.795544402, 267.352296768)):
            Rectangle(MODEL_W_2, MODEL_H, mode=Mode.SUBTRACT)
        with Locations((45.795544402, 294.352296768)):
            Rectangle(MODEL_W_2, MODEL_H, mode=Mode.SUBTRACT)
        with Locations((45.795544402, 258.352296768)):
            Rectangle(MODEL_W_2, MODEL_H, mode=Mode.SUBTRACT)
    extrude(amount=SALIENTE_EXTRUIR1_DEPTH)


solid = part.part
